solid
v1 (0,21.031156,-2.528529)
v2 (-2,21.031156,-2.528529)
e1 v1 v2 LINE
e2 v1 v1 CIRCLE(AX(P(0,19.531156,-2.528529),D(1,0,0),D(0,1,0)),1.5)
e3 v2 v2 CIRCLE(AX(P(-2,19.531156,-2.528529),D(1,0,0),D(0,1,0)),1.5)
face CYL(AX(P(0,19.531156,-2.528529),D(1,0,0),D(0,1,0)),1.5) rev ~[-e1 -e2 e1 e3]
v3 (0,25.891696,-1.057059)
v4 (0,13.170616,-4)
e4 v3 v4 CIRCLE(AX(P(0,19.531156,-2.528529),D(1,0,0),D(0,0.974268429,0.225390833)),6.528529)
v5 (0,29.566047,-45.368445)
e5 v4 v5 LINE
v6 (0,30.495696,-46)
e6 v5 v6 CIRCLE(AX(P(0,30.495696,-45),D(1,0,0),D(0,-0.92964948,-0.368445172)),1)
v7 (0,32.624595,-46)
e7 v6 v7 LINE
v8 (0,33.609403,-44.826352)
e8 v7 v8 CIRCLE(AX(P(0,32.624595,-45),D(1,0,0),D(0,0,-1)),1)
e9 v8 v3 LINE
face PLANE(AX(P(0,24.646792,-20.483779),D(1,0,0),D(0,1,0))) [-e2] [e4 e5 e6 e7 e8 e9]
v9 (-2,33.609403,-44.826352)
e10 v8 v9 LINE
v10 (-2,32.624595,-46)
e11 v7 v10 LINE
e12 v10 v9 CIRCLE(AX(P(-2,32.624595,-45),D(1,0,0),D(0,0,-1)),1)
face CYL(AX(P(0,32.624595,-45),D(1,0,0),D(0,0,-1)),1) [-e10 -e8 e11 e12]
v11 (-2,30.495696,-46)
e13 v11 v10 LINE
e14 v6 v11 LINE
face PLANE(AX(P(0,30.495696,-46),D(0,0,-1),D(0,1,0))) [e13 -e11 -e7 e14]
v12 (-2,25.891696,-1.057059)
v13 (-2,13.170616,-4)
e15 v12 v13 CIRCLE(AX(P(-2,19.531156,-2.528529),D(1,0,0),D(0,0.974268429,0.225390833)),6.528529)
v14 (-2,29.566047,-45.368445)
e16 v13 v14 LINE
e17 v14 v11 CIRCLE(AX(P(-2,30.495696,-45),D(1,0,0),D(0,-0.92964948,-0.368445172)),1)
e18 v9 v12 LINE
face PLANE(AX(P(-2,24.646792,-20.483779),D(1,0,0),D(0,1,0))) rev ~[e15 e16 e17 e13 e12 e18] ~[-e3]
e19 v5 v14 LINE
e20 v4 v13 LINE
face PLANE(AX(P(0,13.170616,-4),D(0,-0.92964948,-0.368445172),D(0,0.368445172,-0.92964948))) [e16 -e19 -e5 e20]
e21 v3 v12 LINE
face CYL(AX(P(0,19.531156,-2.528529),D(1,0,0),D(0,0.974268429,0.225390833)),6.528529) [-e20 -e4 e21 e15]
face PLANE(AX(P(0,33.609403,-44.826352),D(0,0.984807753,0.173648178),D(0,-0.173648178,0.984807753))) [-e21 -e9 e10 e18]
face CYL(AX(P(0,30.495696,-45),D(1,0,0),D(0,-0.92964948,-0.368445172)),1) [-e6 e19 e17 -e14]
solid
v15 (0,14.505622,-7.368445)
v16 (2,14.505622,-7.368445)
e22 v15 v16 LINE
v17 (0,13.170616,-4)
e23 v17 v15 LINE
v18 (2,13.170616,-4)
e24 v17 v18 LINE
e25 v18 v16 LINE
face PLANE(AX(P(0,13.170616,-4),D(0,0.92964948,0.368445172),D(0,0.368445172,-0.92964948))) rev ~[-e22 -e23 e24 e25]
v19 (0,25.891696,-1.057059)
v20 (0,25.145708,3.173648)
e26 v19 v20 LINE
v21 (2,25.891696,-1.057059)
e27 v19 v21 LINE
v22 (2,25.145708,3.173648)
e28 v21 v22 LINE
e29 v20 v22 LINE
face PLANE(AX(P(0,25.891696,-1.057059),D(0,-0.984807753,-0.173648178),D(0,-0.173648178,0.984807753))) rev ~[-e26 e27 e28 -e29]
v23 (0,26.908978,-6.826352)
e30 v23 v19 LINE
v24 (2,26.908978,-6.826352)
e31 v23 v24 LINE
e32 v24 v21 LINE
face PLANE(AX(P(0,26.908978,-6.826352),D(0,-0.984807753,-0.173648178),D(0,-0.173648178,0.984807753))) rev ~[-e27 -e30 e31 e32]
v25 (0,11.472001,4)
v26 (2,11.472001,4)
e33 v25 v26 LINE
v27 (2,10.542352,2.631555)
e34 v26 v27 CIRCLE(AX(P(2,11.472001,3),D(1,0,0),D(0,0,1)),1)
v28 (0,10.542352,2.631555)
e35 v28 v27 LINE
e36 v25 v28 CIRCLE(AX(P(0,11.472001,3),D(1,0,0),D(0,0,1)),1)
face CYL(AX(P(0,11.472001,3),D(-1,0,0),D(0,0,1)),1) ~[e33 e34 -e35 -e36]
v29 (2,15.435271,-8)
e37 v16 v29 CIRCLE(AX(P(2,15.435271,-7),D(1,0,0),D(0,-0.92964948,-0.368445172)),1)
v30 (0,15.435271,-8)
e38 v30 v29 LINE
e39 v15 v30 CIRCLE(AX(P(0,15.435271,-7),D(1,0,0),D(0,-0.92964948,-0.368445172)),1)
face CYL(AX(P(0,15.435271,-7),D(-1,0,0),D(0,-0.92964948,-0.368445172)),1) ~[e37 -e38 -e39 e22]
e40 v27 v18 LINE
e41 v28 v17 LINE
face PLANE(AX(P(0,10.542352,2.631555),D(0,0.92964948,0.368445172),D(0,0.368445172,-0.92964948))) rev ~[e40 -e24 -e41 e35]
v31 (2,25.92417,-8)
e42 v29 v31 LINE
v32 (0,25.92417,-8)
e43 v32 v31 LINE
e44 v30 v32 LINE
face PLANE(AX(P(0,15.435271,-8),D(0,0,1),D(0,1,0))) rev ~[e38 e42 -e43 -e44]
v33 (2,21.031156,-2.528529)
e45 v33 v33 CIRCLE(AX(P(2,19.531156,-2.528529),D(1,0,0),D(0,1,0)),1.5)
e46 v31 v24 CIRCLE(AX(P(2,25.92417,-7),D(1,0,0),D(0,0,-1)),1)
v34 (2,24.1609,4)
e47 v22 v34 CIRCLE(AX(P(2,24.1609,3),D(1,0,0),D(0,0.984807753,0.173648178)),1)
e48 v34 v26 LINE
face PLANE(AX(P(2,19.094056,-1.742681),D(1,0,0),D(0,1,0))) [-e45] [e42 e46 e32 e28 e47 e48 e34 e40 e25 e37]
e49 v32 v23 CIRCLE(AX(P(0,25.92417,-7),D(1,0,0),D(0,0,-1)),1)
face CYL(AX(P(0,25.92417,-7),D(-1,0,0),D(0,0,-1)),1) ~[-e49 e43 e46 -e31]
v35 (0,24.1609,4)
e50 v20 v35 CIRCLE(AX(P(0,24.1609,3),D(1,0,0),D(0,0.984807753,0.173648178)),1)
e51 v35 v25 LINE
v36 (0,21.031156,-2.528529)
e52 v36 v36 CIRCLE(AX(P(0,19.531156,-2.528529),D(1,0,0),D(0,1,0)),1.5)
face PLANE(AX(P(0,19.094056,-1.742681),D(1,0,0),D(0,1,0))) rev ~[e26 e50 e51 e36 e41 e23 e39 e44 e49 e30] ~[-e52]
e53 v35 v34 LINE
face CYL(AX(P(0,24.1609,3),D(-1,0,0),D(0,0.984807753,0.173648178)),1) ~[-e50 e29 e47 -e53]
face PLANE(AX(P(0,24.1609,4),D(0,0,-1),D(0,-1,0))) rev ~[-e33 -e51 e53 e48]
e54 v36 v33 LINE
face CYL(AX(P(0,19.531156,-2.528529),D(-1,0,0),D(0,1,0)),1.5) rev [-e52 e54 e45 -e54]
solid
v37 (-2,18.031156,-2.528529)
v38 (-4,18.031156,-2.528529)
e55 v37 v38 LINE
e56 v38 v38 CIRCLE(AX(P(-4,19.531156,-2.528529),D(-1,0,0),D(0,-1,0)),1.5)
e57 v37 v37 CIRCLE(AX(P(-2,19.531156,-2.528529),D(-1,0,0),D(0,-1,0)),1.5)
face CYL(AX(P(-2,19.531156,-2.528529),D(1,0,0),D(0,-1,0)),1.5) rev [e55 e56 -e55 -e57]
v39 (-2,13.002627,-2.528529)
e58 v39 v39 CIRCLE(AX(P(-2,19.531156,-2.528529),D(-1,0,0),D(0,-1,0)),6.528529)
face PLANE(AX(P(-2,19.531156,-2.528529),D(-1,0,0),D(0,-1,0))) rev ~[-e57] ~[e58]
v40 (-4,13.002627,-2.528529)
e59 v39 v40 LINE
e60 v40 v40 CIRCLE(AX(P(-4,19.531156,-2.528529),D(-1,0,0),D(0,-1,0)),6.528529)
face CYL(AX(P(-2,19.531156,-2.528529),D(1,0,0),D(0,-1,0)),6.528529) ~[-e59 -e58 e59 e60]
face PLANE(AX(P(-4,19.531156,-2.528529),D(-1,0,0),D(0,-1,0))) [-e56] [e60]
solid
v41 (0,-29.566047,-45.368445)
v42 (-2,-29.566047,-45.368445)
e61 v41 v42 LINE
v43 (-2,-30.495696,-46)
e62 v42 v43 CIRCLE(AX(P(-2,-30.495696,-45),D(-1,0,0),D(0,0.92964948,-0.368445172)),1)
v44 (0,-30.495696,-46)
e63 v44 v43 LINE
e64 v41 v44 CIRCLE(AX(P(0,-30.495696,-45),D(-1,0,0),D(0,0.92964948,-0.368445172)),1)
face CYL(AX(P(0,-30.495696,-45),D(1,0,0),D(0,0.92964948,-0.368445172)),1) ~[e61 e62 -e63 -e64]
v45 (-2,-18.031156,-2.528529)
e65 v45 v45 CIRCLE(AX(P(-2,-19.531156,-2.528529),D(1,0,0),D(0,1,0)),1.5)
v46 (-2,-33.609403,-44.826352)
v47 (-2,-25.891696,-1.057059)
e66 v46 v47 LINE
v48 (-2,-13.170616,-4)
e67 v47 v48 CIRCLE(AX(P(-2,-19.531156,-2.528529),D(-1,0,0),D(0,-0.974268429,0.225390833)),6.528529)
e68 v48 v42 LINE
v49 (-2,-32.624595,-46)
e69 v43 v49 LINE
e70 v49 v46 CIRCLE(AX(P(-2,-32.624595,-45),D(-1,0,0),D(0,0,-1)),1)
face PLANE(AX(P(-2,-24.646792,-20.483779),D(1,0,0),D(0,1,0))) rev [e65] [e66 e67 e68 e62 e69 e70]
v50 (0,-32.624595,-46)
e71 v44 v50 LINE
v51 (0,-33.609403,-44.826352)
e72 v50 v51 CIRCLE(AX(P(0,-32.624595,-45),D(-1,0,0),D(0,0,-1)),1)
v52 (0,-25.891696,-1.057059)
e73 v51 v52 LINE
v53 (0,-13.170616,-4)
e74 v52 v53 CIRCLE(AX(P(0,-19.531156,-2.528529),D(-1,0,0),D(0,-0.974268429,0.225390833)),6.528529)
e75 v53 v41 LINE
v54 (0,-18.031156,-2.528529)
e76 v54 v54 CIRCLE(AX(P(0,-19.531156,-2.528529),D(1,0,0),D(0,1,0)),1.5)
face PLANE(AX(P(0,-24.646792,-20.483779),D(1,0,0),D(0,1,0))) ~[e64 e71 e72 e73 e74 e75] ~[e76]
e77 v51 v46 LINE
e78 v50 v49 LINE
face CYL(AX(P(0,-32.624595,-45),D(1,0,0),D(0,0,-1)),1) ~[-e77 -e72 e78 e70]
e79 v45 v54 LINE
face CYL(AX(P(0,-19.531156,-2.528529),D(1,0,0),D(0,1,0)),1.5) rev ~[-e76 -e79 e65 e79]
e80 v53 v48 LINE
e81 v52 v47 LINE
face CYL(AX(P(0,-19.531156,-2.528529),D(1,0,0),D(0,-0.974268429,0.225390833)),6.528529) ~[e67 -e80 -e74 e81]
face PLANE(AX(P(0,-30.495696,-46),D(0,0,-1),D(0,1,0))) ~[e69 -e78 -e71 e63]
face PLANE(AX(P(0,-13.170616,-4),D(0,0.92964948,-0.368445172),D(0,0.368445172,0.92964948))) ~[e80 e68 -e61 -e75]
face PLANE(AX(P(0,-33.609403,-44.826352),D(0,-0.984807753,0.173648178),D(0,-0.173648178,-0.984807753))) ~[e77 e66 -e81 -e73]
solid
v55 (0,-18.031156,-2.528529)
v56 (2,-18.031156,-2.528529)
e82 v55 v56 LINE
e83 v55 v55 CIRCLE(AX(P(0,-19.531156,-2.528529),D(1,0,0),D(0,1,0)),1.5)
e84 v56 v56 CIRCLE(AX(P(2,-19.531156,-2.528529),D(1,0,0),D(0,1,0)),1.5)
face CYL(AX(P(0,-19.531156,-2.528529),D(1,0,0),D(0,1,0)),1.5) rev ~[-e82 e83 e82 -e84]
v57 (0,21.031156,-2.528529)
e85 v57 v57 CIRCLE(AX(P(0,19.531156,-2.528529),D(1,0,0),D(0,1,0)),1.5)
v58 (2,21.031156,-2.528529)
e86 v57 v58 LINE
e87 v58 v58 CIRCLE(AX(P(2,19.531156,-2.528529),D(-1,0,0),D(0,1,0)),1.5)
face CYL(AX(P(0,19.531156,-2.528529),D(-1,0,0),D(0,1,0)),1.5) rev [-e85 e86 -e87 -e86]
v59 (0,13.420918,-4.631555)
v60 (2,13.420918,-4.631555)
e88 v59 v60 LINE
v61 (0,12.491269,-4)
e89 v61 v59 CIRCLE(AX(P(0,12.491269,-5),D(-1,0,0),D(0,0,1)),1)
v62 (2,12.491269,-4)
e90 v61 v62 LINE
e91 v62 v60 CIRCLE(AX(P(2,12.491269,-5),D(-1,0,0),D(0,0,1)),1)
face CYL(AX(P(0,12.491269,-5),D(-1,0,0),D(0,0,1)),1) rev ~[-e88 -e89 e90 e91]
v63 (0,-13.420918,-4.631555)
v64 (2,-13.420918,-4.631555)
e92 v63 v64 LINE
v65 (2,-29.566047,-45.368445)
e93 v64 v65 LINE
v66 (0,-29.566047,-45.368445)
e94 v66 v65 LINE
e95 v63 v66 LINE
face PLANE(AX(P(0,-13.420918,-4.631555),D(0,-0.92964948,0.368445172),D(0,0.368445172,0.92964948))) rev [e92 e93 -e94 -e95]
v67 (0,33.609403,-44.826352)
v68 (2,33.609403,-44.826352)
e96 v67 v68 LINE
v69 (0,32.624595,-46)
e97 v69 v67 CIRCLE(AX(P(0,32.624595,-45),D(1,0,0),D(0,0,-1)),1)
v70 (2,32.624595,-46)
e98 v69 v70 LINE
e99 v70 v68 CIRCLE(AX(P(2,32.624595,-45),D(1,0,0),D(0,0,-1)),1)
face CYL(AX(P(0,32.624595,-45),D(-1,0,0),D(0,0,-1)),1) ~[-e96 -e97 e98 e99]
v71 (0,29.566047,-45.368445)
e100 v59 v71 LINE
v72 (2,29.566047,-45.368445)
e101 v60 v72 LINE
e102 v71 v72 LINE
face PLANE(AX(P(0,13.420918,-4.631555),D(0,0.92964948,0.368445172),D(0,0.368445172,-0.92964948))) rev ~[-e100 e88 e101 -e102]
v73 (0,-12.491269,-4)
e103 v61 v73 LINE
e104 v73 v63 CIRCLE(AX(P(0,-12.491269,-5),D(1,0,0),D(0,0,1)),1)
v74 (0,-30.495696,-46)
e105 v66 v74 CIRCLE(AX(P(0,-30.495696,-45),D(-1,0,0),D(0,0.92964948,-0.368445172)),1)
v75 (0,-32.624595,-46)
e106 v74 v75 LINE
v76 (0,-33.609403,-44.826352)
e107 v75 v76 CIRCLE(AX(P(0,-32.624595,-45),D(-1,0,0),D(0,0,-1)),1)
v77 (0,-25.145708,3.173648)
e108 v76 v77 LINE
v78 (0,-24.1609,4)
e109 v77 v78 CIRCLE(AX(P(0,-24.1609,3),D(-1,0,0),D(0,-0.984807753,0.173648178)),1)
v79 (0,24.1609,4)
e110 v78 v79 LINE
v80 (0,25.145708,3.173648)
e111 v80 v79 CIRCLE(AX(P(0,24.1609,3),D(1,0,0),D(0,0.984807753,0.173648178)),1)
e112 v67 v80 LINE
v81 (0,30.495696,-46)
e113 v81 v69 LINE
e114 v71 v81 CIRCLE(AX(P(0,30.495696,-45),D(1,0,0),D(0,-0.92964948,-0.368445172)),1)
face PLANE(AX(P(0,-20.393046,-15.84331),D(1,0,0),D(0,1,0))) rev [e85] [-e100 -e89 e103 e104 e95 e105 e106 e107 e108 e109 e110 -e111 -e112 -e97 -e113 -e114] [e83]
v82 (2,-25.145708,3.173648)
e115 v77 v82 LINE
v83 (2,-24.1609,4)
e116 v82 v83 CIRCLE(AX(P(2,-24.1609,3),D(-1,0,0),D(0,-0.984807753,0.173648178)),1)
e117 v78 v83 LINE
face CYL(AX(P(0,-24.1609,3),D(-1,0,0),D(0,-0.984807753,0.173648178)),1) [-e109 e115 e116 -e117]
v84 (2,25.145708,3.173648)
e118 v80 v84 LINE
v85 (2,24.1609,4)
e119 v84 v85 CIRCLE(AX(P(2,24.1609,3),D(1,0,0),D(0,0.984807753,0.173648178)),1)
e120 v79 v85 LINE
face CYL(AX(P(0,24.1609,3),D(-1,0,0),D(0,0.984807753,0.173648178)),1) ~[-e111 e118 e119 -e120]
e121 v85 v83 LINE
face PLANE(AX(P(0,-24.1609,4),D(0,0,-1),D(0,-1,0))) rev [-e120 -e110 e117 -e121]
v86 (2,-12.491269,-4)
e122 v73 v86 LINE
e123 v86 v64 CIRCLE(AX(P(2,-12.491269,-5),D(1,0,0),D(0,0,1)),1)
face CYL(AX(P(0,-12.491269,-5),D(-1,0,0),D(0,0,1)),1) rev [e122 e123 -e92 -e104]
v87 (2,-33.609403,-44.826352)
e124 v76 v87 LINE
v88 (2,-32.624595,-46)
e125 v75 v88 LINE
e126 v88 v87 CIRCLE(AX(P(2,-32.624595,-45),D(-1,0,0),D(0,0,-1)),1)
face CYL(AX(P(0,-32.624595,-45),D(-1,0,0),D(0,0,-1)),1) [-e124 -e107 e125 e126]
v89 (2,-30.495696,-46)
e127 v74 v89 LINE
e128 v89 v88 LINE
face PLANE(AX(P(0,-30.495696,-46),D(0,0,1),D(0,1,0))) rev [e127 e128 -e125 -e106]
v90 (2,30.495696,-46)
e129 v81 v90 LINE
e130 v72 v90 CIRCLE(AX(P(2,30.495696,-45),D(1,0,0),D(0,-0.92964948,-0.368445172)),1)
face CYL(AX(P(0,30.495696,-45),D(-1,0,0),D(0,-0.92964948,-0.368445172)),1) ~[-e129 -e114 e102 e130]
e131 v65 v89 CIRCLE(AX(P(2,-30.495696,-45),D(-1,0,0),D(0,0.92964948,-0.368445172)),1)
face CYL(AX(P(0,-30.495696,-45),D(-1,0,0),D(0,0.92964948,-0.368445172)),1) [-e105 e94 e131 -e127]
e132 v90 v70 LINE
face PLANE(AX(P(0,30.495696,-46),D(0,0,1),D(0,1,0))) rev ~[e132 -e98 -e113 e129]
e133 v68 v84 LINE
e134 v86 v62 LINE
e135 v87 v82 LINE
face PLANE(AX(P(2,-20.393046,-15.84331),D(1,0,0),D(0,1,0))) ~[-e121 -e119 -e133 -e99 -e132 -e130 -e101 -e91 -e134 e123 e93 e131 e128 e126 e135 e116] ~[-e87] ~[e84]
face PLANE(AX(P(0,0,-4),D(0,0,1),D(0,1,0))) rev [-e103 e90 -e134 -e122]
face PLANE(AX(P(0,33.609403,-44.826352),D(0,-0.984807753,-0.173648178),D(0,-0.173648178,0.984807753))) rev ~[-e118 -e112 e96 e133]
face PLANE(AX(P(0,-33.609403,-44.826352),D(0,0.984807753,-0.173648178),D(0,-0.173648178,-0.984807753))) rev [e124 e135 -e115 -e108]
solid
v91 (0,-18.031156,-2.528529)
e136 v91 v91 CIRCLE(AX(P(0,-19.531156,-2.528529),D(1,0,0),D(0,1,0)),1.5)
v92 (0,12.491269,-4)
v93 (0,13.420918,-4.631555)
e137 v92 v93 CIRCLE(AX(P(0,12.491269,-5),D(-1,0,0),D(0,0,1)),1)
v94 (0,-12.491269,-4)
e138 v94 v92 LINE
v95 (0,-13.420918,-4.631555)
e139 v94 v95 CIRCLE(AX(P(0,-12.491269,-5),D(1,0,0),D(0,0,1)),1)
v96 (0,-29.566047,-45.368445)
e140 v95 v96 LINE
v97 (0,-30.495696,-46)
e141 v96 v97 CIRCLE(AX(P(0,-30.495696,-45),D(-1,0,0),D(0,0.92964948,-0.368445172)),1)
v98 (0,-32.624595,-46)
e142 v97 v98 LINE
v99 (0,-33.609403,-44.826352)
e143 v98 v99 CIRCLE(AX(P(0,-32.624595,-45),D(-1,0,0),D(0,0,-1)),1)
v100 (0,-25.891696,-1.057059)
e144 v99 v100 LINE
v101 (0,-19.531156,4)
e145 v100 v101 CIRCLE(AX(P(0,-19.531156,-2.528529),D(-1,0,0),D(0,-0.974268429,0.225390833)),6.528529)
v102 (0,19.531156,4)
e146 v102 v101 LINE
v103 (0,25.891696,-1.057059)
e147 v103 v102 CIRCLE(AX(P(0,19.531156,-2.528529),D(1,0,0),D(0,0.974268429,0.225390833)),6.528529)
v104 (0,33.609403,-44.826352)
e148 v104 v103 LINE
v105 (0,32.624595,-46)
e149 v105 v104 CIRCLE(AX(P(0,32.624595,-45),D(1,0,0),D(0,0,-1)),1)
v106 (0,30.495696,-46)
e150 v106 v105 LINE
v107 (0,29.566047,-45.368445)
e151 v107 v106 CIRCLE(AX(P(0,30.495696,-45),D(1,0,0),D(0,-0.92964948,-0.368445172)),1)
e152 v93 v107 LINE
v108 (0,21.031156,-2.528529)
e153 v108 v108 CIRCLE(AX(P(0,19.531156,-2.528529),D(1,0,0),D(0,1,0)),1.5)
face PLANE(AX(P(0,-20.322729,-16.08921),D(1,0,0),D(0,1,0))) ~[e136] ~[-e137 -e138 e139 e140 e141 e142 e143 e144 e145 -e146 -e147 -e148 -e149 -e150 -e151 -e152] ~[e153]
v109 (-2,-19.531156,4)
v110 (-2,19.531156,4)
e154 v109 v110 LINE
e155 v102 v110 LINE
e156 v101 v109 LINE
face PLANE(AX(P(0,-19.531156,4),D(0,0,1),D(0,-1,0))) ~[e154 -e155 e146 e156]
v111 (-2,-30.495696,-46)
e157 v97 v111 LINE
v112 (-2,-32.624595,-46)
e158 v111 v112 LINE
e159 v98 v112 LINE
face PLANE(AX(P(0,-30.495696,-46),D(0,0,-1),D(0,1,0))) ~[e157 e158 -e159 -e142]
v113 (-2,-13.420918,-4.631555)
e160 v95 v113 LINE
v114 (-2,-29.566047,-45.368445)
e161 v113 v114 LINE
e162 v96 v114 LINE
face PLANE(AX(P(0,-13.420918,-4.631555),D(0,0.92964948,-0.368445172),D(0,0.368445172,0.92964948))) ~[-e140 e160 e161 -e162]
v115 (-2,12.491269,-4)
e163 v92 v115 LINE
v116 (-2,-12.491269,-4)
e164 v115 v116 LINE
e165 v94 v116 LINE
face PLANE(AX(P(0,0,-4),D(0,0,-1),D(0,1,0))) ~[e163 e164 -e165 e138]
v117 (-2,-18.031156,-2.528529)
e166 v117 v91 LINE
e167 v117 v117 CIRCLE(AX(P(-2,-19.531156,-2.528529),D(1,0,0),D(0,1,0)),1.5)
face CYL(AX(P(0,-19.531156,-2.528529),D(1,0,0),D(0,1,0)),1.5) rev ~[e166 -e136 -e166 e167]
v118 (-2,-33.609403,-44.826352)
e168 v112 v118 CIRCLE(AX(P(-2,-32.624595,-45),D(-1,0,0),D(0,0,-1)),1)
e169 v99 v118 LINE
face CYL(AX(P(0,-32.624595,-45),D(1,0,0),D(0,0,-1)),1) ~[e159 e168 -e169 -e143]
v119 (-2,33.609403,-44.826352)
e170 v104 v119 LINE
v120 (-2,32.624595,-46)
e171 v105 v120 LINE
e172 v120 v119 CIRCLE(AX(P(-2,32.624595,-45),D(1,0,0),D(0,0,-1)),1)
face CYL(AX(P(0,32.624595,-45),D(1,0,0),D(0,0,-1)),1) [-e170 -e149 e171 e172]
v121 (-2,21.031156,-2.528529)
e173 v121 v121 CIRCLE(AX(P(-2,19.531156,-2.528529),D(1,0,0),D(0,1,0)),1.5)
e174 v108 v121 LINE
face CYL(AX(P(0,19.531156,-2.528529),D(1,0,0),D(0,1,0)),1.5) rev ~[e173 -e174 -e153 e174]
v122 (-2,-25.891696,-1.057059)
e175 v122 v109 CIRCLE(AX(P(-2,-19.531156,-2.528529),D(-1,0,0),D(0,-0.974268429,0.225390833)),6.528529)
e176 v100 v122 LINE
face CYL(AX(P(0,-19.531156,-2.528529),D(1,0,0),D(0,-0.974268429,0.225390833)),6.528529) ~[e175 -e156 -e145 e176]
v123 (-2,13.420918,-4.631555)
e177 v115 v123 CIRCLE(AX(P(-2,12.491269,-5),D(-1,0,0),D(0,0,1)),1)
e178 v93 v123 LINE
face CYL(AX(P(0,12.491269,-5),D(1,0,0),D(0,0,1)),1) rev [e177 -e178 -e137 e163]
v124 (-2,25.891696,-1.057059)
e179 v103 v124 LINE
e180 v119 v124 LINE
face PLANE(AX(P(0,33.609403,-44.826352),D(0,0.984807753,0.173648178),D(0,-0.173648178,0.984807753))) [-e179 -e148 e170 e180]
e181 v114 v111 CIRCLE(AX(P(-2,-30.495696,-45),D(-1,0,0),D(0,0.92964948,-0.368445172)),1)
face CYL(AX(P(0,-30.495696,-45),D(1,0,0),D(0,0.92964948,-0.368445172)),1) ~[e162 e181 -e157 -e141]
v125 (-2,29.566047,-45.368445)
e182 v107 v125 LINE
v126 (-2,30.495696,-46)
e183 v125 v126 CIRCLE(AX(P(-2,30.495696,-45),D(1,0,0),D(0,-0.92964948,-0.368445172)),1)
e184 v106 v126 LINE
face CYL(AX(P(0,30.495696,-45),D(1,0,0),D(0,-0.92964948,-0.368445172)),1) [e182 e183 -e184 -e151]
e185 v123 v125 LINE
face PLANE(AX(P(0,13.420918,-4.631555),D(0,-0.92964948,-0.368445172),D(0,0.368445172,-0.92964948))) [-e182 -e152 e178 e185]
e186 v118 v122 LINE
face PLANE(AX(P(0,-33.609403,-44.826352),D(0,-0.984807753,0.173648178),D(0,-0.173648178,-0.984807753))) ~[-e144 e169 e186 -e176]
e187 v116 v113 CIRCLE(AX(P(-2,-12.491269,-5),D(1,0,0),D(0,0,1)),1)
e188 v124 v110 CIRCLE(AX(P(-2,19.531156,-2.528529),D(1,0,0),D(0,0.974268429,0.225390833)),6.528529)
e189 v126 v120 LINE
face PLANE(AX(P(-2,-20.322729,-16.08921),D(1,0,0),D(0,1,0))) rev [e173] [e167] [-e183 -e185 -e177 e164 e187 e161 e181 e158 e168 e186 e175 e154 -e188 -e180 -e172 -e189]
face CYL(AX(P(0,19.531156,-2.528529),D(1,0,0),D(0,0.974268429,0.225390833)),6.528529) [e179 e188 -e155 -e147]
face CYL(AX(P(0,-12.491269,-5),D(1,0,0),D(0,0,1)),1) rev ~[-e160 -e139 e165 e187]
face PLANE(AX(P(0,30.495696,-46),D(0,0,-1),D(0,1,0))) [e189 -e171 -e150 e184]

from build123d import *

# Parameters (mm, degrees)
F5_DEPTH  = 2
F7_DEPTH  = 2
F9_DEPTH  = 2
F3_R      = 1.5
F11_DEPTH = 12.5
F12_R     = 6.5285293344
F12_R_2   = 1.5
F13_DEPTH = 2
F4_R      = 1.5
F14_DEPTH = 2


with BuildPart() as f5:
    # F0 (on Right) → F5 (new body)
    with BuildSketch(Plane.YZ):
        with BuildLine():
            Line((33.6094031958, -44.8263518223), (25.1457081218, 3.1736481777))
            ThreePointArc((25.1457081218, 3.1736481777), (24.8036879785, 3.7660444431), (24.1609003688, 4))
            Line((24.1609003688, 4), (10, 4))
            Line((10, 4), (0, 4))
            Line((0, 4), (0, -4))
            Line((0, -4), (12.491268584, -4))
            ThreePointArc((12.491268584, -4), (13.0532093409, -4.1728225186), (13.420918064, -4.6315548285))
            Line((13.420918064, -4.6315548285), (29.5660468171, -45.3684451715))
            ThreePointArc((29.5660468171, -45.3684451715), (29.9337555402, -45.8271774814), (30.4956962971, -46))
            Line((30.4956962971, -46), (32.6245954428, -46))
            ThreePointArc((32.6245954428, -46), (33.3906398859, -45.6427876097), (33.6094031958, -44.8263518223))
        make_face()
    extrude(amount=F5_DEPTH)

    # F6: F5 across plane


with BuildPart() as f5_1:
    add(f5.part)
    add(f5.part.mirror(Plane.XZ))


with BuildPart() as f7:
    # F1 (on Right) → F7 (new body)
    with BuildSketch(Plane.YZ):
        with BuildLine():
            Line((33.6094031958, -44.8263518223), (25.8916958863, -1.0570586688))
            ThreePointArc((25.8916958863, -1.0570586688), (23.5941077402, 2.5816680529), (19.531155866, 4))
            Line((19.531155866, 4), (10, 4))
            Line((10, 4), (0, 4))
            Line((0, 4), (0, -4))
            Line((0, -4), (12.491268584, -4))
            ThreePointArc((12.491268584, -4), (13.0532093409, -4.1728225186), (13.420918064, -4.6315548285))
            Line((13.420918064, -4.6315548285), (29.5660468171, -45.3684451715))
            ThreePointArc((29.5660468171, -45.3684451715), (29.9337555402, -45.8271774814), (30.4956962971, -46))
            Line((30.4956962971, -46), (32.6245954428, -46))
            ThreePointArc((32.6245954428, -46), (33.3906398859, -45.6427876097), (33.6094031958, -44.8263518223))
        make_face()
    extrude(amount=-F7_DEPTH)

    # F8: F7 across plane


with BuildPart() as f7_1:
    add(f7.part)
    add(f7.part.mirror(Plane.XZ))


with BuildPart() as f9:
    # F2 (on Right) → F9 (new body)
    with BuildSketch(Plane.YZ):
        with BuildLine():
            Line((33.6094031958, -44.8263518223), (25.8916958863, -1.0570586688))
            ThreePointArc((25.8916958863, -1.0570586688), (18.0596852004, 3.8320106859), (13.1706158457, -4))
            Line((13.1706158457, -4), (29.5660468171, -45.3684451715))
            ThreePointArc((29.5660468171, -45.3684451715), (29.9337555402, -45.8271774814), (30.4956962971, -46))
            Line((30.4956962971, -46), (32.6245954428, -46))
            ThreePointArc((32.6245954428, -46), (33.3906398859, -45.6427876097), (33.6094031958, -44.8263518223))
        make_face()
    extrude(amount=-F9_DEPTH)


with BuildPart() as f10_1:
    # F10: instance of F9
    add(f9.part.mirror(Plane.XZ))


with BuildPart() as f11_tool:
    # F3 (on Right) → F11 (new body, symmetric)
    with BuildSketch(Plane.YZ):
        with Locations((19.531155866, -2.5285293344)):
            Circle(F3_R)
        with Locations((-19.531155866, -2.5285293344)):
            Circle(F3_R)
    extrude(amount=F11_DEPTH, both=True)


with BuildPart() as f5_2:
    add(f5_1.part)

    # F11: cut by f11_tool
    add(f11_tool.part, mode=Mode.SUBTRACT)


with BuildPart() as f7_2:
    add(f7_1.part)

    # F11: cut by f11_tool
    add(f11_tool.part, mode=Mode.SUBTRACT)


with BuildPart() as f9_1:
    add(f9.part)

    # F11: cut by f11_tool
    add(f11_tool.part, mode=Mode.SUBTRACT)


with BuildPart() as f10_1_1:
    add(f10_1.part)

    # F11: cut by f11_tool
    add(f11_tool.part, mode=Mode.SUBTRACT)


with BuildPart() as f13:
    # F12 (on face) → F13 (new body)
    with BuildSketch(Plane(origin=(-2, 0, 0), x_dir=(0, -1, 0), z_dir=(-1, 0, 0))):
        with Locations((-19.531155866, -2.5285293344)):
            Circle(F12_R)
        with Locations((-19.531155866, -2.5285293344)):
            Circle(F12_R_2, mode=Mode.SUBTRACT)
    extrude(amount=F13_DEPTH)


with BuildPart() as f14:
    # F4 (on Right) → F14 (new body)
    with BuildSketch(Plane.YZ):
        with BuildLine():
            Line((26.9089779289, -6.8263518223), (25.8916958863, -1.0570586688))
            Line((25.8916958863, -1.0570586688), (25.1457081218, 3.1736481777))
            ThreePointArc((25.1457081218, 3.1736481777), (24.8036879785, 3.7660444431), (24.1609003688, 4))
            Line((24.1609003688, 4), (19.531155866, 4))
            Line((19.531155866, 4), (11.4720012231, 4))
            ThreePointArc((11.4720012231, 4), (10.6448237416, 3.5619407569), (10.5423517431, 2.6315548285))
            Line((10.5423517431, 2.6315548285), (13.1706158457, -4))
            Line((13.1706158457, -4), (14.5056215502, -7.3684451715))
            ThreePointArc((14.5056215502, -7.3684451715), (14.8733302733, -7.8271774814), (15.4352710301, -8))
            Line((15.4352710301, -8), (25.9241701759, -8))
            ThreePointArc((25.9241701759, -8), (26.690214619, -7.6427876097), (26.9089779289, -6.8263518223))
        make_face()
        with Locations((19.531155866, -2.5285293344)):
            Circle(F4_R, mode=Mode.SUBTRACT)
    extrude(amount=F14_DEPTH)


solid = Compound([f5_2.part, f7_2.part, f9_1.part, f10_1_1.part, f13.part, f14.part])
